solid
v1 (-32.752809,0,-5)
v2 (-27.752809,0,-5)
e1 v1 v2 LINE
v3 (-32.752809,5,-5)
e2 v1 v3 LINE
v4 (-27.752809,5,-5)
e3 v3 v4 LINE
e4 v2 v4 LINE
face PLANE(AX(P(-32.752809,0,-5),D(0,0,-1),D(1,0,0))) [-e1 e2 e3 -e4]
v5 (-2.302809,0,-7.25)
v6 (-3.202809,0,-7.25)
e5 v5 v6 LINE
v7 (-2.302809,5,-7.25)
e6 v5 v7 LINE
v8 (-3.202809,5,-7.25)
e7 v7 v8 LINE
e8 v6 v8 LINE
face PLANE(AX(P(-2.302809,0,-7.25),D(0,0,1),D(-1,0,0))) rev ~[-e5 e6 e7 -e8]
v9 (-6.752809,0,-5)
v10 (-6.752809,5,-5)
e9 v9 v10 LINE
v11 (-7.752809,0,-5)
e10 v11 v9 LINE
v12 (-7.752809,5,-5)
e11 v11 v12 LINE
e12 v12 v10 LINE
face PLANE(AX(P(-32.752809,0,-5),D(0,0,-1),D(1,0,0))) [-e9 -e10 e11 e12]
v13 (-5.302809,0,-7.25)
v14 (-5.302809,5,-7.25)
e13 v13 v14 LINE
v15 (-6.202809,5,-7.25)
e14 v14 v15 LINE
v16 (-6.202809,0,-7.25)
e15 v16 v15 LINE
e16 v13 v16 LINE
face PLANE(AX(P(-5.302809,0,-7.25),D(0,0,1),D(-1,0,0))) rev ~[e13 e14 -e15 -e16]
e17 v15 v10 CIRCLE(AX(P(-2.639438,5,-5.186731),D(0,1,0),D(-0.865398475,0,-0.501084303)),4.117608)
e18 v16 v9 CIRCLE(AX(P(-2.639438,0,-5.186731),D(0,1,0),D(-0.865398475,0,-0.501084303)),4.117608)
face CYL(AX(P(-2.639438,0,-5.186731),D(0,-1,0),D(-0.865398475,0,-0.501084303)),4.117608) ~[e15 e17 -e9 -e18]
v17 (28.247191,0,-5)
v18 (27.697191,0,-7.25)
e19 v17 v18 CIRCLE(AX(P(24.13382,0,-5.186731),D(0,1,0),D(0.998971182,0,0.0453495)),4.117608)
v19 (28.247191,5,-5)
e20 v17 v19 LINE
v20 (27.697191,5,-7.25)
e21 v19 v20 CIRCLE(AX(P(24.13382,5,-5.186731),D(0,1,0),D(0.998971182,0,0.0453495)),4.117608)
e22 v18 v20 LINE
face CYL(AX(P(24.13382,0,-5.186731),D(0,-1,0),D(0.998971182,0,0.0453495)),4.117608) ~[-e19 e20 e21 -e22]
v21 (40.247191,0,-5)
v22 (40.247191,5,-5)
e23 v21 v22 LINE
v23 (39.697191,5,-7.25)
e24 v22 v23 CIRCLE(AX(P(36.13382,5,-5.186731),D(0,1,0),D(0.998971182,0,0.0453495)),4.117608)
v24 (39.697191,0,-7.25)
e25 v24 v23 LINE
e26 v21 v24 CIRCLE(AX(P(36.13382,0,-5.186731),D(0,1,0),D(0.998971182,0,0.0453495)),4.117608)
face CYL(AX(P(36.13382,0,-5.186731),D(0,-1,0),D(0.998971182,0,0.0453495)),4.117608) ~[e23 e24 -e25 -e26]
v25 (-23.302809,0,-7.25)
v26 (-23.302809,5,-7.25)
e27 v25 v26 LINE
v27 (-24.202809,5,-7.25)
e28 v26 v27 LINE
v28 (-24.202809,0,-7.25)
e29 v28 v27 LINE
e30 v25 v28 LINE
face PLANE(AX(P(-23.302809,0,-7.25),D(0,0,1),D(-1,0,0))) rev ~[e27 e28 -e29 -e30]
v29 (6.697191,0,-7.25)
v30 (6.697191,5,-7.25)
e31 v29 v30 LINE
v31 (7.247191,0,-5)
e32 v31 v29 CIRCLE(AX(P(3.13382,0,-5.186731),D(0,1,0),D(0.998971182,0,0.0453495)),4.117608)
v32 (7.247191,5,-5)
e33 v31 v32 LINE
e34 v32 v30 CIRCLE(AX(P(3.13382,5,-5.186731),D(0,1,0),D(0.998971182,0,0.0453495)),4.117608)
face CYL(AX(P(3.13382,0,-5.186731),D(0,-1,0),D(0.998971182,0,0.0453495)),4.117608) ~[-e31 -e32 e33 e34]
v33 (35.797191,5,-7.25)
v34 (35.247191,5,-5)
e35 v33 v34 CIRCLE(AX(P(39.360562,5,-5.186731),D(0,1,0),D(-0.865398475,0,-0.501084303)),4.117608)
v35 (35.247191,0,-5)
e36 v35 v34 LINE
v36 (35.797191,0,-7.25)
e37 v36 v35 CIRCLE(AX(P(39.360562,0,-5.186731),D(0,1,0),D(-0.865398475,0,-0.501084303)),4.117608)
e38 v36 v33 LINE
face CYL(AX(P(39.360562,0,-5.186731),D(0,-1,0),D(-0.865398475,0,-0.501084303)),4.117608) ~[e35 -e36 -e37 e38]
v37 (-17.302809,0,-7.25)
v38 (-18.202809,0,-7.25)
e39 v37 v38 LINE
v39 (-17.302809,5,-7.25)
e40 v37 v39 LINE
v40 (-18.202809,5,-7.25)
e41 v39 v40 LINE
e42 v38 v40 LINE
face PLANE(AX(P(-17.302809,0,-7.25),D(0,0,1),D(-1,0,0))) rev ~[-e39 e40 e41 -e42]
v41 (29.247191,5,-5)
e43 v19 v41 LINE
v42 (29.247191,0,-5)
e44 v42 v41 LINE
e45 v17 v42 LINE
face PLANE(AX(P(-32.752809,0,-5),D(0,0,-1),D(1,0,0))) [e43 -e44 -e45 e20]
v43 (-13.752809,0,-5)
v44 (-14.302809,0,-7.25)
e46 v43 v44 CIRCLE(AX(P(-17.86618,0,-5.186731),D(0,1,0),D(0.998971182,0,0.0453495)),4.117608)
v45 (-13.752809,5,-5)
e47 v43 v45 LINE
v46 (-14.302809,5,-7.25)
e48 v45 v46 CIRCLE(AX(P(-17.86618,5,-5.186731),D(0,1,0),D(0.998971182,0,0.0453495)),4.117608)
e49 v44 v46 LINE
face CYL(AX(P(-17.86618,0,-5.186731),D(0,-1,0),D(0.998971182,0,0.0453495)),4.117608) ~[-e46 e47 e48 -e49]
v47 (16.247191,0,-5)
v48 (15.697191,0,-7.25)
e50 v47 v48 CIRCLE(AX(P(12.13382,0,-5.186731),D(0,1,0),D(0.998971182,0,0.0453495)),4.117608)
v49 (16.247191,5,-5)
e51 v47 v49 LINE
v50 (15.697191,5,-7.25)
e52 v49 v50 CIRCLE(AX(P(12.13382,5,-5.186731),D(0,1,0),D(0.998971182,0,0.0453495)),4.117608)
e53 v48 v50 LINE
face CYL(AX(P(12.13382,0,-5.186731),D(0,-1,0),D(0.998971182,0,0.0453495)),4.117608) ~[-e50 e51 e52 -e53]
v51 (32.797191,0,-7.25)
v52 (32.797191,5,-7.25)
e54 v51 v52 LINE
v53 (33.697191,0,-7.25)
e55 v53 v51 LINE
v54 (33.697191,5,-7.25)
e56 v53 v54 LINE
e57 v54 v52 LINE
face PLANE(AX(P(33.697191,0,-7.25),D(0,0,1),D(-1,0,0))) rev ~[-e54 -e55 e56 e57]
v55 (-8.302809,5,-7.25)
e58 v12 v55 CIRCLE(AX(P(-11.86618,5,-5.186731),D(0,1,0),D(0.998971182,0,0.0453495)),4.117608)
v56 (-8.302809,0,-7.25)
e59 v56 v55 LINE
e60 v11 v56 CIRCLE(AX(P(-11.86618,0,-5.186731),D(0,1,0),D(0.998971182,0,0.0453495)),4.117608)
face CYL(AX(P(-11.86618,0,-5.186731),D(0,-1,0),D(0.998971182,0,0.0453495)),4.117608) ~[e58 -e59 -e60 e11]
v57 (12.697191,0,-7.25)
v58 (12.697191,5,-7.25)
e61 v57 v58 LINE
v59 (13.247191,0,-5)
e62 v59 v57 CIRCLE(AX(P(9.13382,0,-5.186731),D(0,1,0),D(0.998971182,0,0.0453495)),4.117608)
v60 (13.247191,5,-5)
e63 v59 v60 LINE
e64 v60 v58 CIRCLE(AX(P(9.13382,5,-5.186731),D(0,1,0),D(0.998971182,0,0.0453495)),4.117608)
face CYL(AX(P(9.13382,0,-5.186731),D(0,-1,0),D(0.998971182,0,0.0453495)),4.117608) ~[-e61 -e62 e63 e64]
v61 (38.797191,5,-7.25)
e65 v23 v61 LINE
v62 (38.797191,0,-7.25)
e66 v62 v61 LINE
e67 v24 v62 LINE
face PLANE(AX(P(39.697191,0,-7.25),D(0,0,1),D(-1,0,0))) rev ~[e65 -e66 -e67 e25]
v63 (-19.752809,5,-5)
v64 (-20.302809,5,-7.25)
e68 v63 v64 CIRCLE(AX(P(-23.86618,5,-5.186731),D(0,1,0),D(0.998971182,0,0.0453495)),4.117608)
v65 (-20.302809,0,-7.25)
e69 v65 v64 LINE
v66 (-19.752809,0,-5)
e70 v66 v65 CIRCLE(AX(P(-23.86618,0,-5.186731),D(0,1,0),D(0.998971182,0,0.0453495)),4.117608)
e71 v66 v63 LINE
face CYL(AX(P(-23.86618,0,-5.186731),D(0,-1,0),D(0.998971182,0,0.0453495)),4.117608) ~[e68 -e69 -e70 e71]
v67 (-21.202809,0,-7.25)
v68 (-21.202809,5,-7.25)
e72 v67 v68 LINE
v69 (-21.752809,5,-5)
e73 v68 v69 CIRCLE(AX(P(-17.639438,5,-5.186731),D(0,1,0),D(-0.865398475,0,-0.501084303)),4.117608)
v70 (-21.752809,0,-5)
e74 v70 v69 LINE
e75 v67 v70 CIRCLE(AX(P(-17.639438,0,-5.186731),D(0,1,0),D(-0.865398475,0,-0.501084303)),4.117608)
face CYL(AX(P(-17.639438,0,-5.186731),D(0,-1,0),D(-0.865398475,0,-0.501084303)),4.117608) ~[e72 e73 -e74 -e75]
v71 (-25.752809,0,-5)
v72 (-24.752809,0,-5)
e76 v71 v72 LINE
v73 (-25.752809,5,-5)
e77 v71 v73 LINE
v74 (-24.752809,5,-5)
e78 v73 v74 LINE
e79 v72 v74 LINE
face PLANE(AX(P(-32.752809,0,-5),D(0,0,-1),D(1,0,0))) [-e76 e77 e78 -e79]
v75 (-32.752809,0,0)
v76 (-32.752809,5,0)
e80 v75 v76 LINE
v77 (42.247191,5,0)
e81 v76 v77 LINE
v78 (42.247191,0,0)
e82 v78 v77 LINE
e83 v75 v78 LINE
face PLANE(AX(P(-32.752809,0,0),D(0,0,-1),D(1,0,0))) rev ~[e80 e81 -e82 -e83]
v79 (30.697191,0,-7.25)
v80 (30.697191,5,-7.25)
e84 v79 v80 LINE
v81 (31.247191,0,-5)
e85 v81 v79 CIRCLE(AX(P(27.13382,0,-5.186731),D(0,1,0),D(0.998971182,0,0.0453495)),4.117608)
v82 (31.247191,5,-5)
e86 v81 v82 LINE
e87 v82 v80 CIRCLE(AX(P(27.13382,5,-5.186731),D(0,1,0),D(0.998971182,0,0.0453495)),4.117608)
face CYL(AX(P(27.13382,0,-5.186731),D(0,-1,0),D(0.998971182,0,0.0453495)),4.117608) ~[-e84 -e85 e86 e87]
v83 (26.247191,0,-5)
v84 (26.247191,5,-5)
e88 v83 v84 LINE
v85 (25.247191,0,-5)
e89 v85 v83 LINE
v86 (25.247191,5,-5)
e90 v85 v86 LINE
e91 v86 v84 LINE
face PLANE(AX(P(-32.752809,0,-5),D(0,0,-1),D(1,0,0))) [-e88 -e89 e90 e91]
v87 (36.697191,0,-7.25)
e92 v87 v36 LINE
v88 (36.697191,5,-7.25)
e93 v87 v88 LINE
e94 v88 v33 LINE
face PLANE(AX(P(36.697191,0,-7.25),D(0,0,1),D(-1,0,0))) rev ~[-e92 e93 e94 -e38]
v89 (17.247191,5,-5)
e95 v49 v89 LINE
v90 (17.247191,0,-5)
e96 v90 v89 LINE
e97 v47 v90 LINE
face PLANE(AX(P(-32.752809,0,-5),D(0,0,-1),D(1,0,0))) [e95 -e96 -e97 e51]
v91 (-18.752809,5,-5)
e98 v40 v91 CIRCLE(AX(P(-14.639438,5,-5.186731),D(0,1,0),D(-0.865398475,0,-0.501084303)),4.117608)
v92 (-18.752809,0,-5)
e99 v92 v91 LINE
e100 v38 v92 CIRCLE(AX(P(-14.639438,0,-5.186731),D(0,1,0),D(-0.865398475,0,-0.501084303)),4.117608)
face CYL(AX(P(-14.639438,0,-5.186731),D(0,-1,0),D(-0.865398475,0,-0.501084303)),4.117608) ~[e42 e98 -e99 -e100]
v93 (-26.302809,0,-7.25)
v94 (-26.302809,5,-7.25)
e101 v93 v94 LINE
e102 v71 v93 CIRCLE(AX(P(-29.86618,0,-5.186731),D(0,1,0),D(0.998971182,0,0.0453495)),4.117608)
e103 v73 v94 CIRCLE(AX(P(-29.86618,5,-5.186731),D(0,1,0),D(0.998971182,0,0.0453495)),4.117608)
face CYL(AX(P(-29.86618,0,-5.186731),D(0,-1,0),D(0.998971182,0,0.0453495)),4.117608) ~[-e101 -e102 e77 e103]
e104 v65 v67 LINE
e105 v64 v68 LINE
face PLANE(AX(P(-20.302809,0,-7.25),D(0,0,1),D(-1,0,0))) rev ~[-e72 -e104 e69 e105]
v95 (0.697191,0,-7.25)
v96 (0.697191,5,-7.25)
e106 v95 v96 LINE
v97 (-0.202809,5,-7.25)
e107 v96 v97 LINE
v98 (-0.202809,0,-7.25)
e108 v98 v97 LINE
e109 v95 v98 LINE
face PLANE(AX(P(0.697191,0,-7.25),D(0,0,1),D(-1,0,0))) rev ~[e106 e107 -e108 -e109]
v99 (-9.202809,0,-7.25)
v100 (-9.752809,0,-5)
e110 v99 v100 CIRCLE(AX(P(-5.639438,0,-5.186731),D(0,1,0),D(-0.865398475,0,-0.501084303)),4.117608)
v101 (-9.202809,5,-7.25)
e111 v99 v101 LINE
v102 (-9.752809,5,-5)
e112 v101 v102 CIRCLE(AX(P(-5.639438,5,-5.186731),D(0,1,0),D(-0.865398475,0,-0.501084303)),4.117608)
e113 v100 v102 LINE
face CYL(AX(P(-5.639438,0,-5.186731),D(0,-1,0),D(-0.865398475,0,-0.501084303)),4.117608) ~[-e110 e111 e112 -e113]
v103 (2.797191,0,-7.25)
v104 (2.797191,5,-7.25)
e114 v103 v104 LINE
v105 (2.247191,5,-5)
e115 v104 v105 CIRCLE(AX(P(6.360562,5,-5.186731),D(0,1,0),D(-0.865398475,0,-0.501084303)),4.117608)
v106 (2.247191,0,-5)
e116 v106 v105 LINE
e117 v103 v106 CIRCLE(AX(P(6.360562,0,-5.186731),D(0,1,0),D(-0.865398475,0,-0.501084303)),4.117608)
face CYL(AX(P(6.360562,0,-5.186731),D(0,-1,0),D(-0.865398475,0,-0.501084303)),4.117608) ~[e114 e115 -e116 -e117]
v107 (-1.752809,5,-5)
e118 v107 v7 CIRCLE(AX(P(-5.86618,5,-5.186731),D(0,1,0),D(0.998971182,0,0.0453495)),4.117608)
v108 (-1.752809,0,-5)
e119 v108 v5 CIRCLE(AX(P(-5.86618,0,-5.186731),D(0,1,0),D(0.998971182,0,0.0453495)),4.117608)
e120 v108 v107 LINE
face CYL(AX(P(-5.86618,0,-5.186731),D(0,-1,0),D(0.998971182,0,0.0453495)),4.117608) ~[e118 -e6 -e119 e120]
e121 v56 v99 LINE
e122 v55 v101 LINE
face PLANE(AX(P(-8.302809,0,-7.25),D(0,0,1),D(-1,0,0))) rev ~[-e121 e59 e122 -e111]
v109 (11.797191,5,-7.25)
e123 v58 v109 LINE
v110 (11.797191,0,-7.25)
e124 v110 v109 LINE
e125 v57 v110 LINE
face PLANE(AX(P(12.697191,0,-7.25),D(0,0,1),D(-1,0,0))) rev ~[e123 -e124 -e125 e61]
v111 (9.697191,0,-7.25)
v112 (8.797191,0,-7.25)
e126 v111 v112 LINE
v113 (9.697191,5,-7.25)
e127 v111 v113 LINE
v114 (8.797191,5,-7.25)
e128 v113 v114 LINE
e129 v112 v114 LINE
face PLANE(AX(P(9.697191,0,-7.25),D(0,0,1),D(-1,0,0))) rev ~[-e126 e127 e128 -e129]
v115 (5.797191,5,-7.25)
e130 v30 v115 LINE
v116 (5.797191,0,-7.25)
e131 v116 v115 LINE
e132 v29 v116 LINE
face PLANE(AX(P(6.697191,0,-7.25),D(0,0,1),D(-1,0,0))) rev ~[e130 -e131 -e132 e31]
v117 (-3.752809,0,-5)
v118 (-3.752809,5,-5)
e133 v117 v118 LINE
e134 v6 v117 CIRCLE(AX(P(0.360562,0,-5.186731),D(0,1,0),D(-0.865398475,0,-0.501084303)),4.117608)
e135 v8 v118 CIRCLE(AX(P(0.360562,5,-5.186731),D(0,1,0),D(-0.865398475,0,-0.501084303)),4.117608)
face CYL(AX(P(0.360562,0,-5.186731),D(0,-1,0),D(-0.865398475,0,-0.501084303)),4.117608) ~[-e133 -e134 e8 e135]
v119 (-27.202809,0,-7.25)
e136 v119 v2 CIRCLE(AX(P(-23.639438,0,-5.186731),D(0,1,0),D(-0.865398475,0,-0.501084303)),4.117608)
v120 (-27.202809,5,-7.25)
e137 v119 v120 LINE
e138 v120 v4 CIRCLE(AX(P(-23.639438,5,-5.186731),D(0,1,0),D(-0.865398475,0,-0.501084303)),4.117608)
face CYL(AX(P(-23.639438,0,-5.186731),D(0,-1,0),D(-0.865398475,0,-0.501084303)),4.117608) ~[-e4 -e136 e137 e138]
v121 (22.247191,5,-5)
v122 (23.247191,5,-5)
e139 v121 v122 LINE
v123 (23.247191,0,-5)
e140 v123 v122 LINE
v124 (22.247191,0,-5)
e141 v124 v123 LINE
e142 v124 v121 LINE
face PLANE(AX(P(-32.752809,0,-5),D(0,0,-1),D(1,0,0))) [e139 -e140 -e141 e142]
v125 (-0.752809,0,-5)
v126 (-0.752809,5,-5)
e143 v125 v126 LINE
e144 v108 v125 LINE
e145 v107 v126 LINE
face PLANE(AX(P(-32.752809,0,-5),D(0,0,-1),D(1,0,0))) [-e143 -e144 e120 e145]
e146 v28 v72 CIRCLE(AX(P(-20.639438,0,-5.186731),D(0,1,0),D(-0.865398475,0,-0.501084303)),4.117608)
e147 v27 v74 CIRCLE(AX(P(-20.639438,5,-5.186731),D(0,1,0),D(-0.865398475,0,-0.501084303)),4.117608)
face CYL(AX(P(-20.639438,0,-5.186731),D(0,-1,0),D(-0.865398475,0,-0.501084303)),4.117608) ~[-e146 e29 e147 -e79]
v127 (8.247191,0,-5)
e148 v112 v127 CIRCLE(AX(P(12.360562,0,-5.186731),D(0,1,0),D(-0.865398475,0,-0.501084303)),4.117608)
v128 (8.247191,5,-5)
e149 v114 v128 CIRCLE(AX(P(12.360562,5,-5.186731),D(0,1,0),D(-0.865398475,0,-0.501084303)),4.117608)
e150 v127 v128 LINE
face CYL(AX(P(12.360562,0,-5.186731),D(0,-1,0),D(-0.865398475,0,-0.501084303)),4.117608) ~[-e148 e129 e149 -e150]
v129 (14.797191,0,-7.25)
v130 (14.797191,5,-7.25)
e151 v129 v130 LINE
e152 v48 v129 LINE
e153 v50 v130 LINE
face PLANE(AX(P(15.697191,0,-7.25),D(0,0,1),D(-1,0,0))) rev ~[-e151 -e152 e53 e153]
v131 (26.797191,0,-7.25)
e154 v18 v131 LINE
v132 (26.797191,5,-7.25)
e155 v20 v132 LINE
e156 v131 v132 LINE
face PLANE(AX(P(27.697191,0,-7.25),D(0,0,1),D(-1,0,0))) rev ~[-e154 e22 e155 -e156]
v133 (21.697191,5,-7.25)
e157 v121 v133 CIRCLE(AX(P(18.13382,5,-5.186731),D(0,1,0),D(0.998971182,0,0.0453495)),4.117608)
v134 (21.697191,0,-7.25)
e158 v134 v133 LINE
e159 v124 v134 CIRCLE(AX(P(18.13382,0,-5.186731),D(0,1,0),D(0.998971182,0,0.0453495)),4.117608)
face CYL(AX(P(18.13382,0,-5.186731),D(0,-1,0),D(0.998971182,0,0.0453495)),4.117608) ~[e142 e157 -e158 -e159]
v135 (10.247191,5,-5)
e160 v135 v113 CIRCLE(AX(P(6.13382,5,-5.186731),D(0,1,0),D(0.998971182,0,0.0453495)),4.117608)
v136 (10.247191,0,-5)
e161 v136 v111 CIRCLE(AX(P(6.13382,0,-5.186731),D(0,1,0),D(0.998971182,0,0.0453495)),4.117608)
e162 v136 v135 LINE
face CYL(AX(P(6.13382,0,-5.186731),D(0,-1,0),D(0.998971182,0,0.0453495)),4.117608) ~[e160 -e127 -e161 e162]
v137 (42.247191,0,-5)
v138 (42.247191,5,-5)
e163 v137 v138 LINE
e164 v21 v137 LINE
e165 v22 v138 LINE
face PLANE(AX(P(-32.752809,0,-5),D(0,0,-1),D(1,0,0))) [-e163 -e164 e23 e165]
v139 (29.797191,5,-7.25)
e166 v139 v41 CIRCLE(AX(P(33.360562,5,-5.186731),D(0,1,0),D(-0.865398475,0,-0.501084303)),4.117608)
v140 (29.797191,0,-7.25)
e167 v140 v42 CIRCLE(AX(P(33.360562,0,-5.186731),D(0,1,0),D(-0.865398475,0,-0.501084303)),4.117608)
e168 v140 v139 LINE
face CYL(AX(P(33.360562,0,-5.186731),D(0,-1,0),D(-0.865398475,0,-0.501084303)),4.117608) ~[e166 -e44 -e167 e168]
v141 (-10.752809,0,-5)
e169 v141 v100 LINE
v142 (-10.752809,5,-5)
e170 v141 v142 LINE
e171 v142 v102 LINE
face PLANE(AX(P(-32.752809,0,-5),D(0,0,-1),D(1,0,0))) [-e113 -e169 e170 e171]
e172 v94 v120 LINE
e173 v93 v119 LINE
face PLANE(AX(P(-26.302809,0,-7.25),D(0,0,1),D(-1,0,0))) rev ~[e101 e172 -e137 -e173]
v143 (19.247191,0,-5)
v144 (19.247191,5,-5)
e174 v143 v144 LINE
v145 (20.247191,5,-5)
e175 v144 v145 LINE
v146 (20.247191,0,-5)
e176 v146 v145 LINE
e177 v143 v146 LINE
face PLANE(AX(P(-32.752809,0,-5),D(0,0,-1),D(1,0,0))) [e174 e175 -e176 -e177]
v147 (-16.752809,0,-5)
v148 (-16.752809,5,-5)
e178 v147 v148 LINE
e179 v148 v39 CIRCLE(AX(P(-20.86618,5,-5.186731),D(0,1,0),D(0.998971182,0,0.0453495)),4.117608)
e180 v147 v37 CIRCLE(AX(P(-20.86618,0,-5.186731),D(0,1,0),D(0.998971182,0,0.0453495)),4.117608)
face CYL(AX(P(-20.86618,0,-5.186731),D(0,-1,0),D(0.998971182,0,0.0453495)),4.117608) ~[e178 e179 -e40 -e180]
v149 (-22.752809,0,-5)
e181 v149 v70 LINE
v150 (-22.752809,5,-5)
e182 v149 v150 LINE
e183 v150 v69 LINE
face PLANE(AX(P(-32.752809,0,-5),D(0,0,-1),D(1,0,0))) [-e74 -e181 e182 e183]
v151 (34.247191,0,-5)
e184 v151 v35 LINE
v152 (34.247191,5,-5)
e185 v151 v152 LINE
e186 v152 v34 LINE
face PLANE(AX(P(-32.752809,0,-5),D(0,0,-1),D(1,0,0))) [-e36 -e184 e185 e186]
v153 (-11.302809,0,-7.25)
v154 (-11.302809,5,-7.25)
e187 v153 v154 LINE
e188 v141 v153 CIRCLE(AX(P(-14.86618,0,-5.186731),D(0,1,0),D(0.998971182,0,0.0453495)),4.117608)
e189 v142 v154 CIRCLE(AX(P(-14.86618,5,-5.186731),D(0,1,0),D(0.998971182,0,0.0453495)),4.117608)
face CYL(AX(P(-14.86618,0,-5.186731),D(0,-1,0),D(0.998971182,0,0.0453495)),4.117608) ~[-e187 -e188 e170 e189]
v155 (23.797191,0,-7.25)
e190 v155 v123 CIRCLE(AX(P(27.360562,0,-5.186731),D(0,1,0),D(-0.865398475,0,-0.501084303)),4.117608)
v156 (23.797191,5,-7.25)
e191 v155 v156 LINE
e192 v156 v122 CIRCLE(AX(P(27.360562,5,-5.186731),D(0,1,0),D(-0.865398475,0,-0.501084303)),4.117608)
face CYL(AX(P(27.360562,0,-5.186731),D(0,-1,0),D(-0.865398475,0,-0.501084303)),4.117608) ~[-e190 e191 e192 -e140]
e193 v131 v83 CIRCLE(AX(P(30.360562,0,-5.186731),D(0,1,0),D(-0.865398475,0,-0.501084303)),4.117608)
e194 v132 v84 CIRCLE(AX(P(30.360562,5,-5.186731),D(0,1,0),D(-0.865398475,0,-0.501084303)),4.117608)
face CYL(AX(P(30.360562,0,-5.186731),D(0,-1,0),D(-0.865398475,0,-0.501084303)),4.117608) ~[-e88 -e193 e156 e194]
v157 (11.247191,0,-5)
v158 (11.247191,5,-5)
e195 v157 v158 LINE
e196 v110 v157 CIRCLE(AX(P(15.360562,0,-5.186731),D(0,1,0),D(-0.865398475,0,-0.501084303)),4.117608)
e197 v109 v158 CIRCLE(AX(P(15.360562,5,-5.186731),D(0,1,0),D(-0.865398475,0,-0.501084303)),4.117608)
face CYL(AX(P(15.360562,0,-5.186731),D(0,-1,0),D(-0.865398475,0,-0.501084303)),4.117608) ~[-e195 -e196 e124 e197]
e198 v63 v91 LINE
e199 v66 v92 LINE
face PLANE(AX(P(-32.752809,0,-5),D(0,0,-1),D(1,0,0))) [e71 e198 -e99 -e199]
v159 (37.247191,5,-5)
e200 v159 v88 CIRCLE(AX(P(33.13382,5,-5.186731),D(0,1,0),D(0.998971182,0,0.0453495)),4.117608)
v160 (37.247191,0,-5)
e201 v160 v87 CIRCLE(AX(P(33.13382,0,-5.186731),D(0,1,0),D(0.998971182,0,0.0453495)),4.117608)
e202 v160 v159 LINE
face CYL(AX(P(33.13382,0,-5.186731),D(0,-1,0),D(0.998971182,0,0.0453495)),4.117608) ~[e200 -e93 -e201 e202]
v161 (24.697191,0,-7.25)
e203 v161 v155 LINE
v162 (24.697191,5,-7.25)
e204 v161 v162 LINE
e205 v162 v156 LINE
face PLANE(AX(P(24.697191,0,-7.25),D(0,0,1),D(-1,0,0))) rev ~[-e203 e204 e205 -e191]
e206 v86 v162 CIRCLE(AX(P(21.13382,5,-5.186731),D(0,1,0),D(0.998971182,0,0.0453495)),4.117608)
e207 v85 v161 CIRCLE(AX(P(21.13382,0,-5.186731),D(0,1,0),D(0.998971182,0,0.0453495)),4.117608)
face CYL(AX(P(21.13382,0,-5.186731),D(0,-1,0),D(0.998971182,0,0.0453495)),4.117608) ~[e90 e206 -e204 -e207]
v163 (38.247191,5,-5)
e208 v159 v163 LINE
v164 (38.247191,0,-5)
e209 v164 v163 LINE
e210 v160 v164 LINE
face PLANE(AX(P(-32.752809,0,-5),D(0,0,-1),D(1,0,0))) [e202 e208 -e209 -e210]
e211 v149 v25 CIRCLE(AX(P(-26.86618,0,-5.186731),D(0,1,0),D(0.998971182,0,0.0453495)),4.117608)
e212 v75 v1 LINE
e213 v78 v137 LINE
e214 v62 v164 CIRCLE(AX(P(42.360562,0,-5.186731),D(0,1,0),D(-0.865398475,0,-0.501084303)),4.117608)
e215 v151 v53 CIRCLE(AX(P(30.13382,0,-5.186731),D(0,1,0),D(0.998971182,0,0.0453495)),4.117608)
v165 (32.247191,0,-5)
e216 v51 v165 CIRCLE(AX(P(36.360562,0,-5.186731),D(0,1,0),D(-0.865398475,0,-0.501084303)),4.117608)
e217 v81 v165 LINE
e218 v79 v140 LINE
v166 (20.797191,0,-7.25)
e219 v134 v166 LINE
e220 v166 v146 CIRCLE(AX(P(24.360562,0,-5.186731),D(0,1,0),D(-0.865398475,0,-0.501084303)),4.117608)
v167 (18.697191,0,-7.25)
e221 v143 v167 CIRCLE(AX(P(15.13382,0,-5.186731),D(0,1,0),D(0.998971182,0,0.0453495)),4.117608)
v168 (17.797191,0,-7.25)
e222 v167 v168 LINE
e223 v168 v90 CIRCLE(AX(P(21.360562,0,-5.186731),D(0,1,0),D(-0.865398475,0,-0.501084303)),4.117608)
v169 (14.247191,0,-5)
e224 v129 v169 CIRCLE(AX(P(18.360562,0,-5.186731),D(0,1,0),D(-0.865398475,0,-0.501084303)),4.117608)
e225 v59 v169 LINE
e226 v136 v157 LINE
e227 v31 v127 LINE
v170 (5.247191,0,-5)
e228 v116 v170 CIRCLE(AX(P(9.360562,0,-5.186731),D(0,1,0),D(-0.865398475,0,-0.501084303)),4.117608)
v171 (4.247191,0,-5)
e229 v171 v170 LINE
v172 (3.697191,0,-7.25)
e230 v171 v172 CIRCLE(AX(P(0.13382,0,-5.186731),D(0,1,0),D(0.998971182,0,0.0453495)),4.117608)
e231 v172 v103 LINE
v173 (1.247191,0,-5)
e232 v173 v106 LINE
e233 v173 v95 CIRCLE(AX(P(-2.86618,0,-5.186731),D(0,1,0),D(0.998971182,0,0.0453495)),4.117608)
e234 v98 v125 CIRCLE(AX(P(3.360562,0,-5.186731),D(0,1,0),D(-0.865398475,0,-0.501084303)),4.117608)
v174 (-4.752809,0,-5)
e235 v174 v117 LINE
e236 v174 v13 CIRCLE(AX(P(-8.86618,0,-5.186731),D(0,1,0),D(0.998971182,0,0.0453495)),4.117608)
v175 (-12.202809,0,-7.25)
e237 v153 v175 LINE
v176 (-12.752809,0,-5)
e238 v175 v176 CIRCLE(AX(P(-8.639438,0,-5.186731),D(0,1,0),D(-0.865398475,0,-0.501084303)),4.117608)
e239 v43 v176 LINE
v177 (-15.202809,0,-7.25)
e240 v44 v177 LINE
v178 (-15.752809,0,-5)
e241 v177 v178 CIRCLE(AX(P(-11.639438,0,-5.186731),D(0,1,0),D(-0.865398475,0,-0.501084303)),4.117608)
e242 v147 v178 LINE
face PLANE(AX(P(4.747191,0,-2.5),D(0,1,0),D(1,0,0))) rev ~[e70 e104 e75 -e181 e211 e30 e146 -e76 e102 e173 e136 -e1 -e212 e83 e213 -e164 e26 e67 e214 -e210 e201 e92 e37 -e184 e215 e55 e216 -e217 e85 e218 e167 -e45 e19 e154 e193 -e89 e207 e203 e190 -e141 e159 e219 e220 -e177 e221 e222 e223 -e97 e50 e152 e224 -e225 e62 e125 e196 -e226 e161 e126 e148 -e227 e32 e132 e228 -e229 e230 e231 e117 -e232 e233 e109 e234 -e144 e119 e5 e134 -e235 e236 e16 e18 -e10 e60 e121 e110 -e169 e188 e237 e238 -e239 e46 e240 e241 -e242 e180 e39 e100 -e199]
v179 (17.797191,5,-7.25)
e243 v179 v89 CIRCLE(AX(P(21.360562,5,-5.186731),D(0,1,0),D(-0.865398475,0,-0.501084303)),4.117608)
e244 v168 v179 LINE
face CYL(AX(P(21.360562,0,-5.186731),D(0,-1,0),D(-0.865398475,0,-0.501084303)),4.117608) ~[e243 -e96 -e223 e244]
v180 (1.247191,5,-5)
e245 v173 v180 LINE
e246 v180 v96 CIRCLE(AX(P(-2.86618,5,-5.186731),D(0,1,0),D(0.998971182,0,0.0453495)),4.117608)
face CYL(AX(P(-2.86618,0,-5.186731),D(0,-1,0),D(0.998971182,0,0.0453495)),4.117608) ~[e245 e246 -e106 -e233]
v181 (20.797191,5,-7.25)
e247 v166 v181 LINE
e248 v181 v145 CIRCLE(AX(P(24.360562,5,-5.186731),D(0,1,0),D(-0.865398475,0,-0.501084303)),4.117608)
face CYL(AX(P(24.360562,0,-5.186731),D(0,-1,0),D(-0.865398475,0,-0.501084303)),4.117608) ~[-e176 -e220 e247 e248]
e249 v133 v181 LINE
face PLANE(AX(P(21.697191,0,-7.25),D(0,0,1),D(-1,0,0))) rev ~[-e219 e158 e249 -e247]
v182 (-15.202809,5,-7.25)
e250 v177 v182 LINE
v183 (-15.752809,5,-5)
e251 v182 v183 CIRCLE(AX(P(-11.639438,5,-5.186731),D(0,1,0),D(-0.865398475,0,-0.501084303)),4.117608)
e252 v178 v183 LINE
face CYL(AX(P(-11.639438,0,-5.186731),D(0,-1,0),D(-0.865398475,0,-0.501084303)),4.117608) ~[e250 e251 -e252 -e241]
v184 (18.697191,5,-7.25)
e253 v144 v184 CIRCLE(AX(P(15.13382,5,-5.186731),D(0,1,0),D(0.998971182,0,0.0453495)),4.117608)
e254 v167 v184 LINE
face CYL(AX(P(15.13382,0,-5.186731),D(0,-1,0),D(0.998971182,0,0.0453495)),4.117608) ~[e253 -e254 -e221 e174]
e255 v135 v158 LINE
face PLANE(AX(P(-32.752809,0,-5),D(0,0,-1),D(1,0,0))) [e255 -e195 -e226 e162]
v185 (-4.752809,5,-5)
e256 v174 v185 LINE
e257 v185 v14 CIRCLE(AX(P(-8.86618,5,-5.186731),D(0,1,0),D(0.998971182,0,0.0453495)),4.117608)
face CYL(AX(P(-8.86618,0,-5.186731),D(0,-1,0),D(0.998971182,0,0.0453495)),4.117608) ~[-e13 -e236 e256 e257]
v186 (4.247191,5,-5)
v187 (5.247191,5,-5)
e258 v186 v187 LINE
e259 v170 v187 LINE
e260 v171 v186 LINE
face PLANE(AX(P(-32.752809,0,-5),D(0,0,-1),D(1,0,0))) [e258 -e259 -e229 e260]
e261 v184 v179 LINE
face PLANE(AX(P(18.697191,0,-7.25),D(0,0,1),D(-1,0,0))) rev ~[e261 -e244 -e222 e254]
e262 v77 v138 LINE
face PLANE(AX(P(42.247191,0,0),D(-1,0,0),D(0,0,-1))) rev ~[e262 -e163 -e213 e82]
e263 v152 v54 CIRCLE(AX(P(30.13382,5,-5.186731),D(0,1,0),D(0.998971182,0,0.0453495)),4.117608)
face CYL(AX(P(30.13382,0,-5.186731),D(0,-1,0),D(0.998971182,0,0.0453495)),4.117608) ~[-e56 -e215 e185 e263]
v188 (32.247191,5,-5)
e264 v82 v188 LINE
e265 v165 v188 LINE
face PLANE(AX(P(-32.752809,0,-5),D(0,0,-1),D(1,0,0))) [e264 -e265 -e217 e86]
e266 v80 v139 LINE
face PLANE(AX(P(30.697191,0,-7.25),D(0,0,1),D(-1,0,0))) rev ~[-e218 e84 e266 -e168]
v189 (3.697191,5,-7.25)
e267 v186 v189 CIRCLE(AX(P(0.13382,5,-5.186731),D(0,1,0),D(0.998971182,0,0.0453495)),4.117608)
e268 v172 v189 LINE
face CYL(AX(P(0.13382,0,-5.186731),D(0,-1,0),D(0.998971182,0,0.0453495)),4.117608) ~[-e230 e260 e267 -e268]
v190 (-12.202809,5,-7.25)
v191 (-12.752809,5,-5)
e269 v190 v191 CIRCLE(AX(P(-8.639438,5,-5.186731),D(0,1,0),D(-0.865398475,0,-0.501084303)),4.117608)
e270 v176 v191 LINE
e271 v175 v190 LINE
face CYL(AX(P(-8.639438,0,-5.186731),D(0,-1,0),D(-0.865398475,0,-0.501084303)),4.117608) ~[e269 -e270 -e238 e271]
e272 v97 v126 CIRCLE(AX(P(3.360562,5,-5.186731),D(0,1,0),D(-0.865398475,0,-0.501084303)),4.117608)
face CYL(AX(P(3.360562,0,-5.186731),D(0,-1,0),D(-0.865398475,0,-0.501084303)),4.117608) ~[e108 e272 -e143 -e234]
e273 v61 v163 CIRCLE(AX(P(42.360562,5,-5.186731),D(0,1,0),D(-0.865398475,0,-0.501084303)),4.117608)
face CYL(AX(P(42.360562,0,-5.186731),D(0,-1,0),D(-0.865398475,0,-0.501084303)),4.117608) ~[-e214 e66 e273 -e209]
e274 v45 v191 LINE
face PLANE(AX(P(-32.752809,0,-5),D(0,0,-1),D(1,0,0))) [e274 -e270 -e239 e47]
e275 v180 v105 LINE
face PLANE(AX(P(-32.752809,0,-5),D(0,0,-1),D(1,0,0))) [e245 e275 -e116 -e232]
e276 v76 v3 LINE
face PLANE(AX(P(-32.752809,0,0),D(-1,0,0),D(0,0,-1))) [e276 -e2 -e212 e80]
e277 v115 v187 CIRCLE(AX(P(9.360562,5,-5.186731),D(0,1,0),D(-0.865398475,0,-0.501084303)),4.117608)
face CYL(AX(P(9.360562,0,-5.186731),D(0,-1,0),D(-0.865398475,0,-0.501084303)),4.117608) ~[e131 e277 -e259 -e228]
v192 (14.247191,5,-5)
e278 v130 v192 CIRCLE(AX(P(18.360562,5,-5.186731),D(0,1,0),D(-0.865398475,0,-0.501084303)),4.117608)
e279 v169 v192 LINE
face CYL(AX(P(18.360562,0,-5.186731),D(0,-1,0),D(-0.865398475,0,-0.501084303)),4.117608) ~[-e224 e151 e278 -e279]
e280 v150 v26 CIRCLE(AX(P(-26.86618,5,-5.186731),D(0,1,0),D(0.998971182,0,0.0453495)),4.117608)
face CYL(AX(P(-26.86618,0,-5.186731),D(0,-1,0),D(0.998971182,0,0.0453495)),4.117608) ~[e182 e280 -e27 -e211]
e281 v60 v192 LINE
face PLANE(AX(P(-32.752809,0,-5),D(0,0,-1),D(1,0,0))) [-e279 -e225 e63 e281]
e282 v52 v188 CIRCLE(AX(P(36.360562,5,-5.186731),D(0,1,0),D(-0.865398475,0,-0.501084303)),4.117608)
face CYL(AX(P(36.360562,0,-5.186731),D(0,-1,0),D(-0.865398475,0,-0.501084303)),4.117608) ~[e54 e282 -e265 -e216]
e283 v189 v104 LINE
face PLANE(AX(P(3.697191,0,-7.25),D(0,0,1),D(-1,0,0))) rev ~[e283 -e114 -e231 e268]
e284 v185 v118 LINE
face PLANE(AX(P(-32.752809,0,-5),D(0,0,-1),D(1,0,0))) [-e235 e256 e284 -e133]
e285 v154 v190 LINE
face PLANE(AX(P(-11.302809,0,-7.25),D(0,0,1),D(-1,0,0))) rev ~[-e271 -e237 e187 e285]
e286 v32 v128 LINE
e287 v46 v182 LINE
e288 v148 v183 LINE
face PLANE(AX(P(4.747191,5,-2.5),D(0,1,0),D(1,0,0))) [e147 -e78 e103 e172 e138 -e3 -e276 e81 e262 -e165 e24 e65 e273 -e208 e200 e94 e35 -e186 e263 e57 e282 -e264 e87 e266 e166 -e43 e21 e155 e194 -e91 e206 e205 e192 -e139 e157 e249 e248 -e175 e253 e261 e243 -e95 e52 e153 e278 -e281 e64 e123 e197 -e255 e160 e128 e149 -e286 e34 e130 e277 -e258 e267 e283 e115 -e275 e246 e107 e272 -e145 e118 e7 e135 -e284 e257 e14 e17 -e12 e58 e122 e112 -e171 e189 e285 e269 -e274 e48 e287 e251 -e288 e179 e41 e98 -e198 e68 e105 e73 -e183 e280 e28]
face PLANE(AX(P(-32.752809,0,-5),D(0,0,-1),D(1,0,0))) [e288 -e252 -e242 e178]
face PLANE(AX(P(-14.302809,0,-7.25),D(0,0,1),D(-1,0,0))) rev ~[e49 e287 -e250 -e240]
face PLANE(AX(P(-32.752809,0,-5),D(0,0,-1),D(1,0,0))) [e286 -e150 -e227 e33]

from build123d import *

# Parameters (mm, degrees)
BOSS_EXTRUDE1_DEPTH = 5
BOSS_EXTRUDE2_DEPTH = 5
LPATTERN1_COUNT     = 23
LPATTERN1_PITCH     = 3


with BuildPart() as part:
    # Sketch2 → Boss-Extrude1 (new body)
    with BuildSketch(Plane(origin=(0, 0, 0), x_dir=(1, 0, 0), z_dir=(0, 1, 0))):
        Polygon((-32.752808989, 5), (-32.752808989, 0), (42.247191011, 0), (42.247191011, 5), (-25.752808989, 5), (-27.752808989, 5), align=None)
    extrude(amount=BOSS_EXTRUDE1_DEPTH)

    # Sketch2<3> → Boss-Extrude2 (add)
    with BuildSketch(Plane(origin=(0, 0, 0), x_dir=(1, 0, 0), z_dir=(0, 1, 0))):
        with BuildLine():
            ThreePointArc((-27.202808989, 7.25), (-27.639277587, 6.164470102), (-27.752808989, 5))
            Line((-27.752808989, 5), (-25.752808989, 5))
            ThreePointArc((-25.752808989, 5), (-25.86634039, 6.164470102), (-26.302808989, 7.25))
            Line((-26.302808989, 7.25), (-27.202808989, 7.25))
        make_face()
    boss_extrude2 = extrude(amount=BOSS_EXTRUDE2_DEPTH)

    # LPattern1: Boss-Extrude2 ×23
    with Locations(*[(i * LPATTERN1_PITCH, 0, 0) for i in range(1, LPATTERN1_COUNT)]):
        add(boss_extrude2)


solid = part.part
